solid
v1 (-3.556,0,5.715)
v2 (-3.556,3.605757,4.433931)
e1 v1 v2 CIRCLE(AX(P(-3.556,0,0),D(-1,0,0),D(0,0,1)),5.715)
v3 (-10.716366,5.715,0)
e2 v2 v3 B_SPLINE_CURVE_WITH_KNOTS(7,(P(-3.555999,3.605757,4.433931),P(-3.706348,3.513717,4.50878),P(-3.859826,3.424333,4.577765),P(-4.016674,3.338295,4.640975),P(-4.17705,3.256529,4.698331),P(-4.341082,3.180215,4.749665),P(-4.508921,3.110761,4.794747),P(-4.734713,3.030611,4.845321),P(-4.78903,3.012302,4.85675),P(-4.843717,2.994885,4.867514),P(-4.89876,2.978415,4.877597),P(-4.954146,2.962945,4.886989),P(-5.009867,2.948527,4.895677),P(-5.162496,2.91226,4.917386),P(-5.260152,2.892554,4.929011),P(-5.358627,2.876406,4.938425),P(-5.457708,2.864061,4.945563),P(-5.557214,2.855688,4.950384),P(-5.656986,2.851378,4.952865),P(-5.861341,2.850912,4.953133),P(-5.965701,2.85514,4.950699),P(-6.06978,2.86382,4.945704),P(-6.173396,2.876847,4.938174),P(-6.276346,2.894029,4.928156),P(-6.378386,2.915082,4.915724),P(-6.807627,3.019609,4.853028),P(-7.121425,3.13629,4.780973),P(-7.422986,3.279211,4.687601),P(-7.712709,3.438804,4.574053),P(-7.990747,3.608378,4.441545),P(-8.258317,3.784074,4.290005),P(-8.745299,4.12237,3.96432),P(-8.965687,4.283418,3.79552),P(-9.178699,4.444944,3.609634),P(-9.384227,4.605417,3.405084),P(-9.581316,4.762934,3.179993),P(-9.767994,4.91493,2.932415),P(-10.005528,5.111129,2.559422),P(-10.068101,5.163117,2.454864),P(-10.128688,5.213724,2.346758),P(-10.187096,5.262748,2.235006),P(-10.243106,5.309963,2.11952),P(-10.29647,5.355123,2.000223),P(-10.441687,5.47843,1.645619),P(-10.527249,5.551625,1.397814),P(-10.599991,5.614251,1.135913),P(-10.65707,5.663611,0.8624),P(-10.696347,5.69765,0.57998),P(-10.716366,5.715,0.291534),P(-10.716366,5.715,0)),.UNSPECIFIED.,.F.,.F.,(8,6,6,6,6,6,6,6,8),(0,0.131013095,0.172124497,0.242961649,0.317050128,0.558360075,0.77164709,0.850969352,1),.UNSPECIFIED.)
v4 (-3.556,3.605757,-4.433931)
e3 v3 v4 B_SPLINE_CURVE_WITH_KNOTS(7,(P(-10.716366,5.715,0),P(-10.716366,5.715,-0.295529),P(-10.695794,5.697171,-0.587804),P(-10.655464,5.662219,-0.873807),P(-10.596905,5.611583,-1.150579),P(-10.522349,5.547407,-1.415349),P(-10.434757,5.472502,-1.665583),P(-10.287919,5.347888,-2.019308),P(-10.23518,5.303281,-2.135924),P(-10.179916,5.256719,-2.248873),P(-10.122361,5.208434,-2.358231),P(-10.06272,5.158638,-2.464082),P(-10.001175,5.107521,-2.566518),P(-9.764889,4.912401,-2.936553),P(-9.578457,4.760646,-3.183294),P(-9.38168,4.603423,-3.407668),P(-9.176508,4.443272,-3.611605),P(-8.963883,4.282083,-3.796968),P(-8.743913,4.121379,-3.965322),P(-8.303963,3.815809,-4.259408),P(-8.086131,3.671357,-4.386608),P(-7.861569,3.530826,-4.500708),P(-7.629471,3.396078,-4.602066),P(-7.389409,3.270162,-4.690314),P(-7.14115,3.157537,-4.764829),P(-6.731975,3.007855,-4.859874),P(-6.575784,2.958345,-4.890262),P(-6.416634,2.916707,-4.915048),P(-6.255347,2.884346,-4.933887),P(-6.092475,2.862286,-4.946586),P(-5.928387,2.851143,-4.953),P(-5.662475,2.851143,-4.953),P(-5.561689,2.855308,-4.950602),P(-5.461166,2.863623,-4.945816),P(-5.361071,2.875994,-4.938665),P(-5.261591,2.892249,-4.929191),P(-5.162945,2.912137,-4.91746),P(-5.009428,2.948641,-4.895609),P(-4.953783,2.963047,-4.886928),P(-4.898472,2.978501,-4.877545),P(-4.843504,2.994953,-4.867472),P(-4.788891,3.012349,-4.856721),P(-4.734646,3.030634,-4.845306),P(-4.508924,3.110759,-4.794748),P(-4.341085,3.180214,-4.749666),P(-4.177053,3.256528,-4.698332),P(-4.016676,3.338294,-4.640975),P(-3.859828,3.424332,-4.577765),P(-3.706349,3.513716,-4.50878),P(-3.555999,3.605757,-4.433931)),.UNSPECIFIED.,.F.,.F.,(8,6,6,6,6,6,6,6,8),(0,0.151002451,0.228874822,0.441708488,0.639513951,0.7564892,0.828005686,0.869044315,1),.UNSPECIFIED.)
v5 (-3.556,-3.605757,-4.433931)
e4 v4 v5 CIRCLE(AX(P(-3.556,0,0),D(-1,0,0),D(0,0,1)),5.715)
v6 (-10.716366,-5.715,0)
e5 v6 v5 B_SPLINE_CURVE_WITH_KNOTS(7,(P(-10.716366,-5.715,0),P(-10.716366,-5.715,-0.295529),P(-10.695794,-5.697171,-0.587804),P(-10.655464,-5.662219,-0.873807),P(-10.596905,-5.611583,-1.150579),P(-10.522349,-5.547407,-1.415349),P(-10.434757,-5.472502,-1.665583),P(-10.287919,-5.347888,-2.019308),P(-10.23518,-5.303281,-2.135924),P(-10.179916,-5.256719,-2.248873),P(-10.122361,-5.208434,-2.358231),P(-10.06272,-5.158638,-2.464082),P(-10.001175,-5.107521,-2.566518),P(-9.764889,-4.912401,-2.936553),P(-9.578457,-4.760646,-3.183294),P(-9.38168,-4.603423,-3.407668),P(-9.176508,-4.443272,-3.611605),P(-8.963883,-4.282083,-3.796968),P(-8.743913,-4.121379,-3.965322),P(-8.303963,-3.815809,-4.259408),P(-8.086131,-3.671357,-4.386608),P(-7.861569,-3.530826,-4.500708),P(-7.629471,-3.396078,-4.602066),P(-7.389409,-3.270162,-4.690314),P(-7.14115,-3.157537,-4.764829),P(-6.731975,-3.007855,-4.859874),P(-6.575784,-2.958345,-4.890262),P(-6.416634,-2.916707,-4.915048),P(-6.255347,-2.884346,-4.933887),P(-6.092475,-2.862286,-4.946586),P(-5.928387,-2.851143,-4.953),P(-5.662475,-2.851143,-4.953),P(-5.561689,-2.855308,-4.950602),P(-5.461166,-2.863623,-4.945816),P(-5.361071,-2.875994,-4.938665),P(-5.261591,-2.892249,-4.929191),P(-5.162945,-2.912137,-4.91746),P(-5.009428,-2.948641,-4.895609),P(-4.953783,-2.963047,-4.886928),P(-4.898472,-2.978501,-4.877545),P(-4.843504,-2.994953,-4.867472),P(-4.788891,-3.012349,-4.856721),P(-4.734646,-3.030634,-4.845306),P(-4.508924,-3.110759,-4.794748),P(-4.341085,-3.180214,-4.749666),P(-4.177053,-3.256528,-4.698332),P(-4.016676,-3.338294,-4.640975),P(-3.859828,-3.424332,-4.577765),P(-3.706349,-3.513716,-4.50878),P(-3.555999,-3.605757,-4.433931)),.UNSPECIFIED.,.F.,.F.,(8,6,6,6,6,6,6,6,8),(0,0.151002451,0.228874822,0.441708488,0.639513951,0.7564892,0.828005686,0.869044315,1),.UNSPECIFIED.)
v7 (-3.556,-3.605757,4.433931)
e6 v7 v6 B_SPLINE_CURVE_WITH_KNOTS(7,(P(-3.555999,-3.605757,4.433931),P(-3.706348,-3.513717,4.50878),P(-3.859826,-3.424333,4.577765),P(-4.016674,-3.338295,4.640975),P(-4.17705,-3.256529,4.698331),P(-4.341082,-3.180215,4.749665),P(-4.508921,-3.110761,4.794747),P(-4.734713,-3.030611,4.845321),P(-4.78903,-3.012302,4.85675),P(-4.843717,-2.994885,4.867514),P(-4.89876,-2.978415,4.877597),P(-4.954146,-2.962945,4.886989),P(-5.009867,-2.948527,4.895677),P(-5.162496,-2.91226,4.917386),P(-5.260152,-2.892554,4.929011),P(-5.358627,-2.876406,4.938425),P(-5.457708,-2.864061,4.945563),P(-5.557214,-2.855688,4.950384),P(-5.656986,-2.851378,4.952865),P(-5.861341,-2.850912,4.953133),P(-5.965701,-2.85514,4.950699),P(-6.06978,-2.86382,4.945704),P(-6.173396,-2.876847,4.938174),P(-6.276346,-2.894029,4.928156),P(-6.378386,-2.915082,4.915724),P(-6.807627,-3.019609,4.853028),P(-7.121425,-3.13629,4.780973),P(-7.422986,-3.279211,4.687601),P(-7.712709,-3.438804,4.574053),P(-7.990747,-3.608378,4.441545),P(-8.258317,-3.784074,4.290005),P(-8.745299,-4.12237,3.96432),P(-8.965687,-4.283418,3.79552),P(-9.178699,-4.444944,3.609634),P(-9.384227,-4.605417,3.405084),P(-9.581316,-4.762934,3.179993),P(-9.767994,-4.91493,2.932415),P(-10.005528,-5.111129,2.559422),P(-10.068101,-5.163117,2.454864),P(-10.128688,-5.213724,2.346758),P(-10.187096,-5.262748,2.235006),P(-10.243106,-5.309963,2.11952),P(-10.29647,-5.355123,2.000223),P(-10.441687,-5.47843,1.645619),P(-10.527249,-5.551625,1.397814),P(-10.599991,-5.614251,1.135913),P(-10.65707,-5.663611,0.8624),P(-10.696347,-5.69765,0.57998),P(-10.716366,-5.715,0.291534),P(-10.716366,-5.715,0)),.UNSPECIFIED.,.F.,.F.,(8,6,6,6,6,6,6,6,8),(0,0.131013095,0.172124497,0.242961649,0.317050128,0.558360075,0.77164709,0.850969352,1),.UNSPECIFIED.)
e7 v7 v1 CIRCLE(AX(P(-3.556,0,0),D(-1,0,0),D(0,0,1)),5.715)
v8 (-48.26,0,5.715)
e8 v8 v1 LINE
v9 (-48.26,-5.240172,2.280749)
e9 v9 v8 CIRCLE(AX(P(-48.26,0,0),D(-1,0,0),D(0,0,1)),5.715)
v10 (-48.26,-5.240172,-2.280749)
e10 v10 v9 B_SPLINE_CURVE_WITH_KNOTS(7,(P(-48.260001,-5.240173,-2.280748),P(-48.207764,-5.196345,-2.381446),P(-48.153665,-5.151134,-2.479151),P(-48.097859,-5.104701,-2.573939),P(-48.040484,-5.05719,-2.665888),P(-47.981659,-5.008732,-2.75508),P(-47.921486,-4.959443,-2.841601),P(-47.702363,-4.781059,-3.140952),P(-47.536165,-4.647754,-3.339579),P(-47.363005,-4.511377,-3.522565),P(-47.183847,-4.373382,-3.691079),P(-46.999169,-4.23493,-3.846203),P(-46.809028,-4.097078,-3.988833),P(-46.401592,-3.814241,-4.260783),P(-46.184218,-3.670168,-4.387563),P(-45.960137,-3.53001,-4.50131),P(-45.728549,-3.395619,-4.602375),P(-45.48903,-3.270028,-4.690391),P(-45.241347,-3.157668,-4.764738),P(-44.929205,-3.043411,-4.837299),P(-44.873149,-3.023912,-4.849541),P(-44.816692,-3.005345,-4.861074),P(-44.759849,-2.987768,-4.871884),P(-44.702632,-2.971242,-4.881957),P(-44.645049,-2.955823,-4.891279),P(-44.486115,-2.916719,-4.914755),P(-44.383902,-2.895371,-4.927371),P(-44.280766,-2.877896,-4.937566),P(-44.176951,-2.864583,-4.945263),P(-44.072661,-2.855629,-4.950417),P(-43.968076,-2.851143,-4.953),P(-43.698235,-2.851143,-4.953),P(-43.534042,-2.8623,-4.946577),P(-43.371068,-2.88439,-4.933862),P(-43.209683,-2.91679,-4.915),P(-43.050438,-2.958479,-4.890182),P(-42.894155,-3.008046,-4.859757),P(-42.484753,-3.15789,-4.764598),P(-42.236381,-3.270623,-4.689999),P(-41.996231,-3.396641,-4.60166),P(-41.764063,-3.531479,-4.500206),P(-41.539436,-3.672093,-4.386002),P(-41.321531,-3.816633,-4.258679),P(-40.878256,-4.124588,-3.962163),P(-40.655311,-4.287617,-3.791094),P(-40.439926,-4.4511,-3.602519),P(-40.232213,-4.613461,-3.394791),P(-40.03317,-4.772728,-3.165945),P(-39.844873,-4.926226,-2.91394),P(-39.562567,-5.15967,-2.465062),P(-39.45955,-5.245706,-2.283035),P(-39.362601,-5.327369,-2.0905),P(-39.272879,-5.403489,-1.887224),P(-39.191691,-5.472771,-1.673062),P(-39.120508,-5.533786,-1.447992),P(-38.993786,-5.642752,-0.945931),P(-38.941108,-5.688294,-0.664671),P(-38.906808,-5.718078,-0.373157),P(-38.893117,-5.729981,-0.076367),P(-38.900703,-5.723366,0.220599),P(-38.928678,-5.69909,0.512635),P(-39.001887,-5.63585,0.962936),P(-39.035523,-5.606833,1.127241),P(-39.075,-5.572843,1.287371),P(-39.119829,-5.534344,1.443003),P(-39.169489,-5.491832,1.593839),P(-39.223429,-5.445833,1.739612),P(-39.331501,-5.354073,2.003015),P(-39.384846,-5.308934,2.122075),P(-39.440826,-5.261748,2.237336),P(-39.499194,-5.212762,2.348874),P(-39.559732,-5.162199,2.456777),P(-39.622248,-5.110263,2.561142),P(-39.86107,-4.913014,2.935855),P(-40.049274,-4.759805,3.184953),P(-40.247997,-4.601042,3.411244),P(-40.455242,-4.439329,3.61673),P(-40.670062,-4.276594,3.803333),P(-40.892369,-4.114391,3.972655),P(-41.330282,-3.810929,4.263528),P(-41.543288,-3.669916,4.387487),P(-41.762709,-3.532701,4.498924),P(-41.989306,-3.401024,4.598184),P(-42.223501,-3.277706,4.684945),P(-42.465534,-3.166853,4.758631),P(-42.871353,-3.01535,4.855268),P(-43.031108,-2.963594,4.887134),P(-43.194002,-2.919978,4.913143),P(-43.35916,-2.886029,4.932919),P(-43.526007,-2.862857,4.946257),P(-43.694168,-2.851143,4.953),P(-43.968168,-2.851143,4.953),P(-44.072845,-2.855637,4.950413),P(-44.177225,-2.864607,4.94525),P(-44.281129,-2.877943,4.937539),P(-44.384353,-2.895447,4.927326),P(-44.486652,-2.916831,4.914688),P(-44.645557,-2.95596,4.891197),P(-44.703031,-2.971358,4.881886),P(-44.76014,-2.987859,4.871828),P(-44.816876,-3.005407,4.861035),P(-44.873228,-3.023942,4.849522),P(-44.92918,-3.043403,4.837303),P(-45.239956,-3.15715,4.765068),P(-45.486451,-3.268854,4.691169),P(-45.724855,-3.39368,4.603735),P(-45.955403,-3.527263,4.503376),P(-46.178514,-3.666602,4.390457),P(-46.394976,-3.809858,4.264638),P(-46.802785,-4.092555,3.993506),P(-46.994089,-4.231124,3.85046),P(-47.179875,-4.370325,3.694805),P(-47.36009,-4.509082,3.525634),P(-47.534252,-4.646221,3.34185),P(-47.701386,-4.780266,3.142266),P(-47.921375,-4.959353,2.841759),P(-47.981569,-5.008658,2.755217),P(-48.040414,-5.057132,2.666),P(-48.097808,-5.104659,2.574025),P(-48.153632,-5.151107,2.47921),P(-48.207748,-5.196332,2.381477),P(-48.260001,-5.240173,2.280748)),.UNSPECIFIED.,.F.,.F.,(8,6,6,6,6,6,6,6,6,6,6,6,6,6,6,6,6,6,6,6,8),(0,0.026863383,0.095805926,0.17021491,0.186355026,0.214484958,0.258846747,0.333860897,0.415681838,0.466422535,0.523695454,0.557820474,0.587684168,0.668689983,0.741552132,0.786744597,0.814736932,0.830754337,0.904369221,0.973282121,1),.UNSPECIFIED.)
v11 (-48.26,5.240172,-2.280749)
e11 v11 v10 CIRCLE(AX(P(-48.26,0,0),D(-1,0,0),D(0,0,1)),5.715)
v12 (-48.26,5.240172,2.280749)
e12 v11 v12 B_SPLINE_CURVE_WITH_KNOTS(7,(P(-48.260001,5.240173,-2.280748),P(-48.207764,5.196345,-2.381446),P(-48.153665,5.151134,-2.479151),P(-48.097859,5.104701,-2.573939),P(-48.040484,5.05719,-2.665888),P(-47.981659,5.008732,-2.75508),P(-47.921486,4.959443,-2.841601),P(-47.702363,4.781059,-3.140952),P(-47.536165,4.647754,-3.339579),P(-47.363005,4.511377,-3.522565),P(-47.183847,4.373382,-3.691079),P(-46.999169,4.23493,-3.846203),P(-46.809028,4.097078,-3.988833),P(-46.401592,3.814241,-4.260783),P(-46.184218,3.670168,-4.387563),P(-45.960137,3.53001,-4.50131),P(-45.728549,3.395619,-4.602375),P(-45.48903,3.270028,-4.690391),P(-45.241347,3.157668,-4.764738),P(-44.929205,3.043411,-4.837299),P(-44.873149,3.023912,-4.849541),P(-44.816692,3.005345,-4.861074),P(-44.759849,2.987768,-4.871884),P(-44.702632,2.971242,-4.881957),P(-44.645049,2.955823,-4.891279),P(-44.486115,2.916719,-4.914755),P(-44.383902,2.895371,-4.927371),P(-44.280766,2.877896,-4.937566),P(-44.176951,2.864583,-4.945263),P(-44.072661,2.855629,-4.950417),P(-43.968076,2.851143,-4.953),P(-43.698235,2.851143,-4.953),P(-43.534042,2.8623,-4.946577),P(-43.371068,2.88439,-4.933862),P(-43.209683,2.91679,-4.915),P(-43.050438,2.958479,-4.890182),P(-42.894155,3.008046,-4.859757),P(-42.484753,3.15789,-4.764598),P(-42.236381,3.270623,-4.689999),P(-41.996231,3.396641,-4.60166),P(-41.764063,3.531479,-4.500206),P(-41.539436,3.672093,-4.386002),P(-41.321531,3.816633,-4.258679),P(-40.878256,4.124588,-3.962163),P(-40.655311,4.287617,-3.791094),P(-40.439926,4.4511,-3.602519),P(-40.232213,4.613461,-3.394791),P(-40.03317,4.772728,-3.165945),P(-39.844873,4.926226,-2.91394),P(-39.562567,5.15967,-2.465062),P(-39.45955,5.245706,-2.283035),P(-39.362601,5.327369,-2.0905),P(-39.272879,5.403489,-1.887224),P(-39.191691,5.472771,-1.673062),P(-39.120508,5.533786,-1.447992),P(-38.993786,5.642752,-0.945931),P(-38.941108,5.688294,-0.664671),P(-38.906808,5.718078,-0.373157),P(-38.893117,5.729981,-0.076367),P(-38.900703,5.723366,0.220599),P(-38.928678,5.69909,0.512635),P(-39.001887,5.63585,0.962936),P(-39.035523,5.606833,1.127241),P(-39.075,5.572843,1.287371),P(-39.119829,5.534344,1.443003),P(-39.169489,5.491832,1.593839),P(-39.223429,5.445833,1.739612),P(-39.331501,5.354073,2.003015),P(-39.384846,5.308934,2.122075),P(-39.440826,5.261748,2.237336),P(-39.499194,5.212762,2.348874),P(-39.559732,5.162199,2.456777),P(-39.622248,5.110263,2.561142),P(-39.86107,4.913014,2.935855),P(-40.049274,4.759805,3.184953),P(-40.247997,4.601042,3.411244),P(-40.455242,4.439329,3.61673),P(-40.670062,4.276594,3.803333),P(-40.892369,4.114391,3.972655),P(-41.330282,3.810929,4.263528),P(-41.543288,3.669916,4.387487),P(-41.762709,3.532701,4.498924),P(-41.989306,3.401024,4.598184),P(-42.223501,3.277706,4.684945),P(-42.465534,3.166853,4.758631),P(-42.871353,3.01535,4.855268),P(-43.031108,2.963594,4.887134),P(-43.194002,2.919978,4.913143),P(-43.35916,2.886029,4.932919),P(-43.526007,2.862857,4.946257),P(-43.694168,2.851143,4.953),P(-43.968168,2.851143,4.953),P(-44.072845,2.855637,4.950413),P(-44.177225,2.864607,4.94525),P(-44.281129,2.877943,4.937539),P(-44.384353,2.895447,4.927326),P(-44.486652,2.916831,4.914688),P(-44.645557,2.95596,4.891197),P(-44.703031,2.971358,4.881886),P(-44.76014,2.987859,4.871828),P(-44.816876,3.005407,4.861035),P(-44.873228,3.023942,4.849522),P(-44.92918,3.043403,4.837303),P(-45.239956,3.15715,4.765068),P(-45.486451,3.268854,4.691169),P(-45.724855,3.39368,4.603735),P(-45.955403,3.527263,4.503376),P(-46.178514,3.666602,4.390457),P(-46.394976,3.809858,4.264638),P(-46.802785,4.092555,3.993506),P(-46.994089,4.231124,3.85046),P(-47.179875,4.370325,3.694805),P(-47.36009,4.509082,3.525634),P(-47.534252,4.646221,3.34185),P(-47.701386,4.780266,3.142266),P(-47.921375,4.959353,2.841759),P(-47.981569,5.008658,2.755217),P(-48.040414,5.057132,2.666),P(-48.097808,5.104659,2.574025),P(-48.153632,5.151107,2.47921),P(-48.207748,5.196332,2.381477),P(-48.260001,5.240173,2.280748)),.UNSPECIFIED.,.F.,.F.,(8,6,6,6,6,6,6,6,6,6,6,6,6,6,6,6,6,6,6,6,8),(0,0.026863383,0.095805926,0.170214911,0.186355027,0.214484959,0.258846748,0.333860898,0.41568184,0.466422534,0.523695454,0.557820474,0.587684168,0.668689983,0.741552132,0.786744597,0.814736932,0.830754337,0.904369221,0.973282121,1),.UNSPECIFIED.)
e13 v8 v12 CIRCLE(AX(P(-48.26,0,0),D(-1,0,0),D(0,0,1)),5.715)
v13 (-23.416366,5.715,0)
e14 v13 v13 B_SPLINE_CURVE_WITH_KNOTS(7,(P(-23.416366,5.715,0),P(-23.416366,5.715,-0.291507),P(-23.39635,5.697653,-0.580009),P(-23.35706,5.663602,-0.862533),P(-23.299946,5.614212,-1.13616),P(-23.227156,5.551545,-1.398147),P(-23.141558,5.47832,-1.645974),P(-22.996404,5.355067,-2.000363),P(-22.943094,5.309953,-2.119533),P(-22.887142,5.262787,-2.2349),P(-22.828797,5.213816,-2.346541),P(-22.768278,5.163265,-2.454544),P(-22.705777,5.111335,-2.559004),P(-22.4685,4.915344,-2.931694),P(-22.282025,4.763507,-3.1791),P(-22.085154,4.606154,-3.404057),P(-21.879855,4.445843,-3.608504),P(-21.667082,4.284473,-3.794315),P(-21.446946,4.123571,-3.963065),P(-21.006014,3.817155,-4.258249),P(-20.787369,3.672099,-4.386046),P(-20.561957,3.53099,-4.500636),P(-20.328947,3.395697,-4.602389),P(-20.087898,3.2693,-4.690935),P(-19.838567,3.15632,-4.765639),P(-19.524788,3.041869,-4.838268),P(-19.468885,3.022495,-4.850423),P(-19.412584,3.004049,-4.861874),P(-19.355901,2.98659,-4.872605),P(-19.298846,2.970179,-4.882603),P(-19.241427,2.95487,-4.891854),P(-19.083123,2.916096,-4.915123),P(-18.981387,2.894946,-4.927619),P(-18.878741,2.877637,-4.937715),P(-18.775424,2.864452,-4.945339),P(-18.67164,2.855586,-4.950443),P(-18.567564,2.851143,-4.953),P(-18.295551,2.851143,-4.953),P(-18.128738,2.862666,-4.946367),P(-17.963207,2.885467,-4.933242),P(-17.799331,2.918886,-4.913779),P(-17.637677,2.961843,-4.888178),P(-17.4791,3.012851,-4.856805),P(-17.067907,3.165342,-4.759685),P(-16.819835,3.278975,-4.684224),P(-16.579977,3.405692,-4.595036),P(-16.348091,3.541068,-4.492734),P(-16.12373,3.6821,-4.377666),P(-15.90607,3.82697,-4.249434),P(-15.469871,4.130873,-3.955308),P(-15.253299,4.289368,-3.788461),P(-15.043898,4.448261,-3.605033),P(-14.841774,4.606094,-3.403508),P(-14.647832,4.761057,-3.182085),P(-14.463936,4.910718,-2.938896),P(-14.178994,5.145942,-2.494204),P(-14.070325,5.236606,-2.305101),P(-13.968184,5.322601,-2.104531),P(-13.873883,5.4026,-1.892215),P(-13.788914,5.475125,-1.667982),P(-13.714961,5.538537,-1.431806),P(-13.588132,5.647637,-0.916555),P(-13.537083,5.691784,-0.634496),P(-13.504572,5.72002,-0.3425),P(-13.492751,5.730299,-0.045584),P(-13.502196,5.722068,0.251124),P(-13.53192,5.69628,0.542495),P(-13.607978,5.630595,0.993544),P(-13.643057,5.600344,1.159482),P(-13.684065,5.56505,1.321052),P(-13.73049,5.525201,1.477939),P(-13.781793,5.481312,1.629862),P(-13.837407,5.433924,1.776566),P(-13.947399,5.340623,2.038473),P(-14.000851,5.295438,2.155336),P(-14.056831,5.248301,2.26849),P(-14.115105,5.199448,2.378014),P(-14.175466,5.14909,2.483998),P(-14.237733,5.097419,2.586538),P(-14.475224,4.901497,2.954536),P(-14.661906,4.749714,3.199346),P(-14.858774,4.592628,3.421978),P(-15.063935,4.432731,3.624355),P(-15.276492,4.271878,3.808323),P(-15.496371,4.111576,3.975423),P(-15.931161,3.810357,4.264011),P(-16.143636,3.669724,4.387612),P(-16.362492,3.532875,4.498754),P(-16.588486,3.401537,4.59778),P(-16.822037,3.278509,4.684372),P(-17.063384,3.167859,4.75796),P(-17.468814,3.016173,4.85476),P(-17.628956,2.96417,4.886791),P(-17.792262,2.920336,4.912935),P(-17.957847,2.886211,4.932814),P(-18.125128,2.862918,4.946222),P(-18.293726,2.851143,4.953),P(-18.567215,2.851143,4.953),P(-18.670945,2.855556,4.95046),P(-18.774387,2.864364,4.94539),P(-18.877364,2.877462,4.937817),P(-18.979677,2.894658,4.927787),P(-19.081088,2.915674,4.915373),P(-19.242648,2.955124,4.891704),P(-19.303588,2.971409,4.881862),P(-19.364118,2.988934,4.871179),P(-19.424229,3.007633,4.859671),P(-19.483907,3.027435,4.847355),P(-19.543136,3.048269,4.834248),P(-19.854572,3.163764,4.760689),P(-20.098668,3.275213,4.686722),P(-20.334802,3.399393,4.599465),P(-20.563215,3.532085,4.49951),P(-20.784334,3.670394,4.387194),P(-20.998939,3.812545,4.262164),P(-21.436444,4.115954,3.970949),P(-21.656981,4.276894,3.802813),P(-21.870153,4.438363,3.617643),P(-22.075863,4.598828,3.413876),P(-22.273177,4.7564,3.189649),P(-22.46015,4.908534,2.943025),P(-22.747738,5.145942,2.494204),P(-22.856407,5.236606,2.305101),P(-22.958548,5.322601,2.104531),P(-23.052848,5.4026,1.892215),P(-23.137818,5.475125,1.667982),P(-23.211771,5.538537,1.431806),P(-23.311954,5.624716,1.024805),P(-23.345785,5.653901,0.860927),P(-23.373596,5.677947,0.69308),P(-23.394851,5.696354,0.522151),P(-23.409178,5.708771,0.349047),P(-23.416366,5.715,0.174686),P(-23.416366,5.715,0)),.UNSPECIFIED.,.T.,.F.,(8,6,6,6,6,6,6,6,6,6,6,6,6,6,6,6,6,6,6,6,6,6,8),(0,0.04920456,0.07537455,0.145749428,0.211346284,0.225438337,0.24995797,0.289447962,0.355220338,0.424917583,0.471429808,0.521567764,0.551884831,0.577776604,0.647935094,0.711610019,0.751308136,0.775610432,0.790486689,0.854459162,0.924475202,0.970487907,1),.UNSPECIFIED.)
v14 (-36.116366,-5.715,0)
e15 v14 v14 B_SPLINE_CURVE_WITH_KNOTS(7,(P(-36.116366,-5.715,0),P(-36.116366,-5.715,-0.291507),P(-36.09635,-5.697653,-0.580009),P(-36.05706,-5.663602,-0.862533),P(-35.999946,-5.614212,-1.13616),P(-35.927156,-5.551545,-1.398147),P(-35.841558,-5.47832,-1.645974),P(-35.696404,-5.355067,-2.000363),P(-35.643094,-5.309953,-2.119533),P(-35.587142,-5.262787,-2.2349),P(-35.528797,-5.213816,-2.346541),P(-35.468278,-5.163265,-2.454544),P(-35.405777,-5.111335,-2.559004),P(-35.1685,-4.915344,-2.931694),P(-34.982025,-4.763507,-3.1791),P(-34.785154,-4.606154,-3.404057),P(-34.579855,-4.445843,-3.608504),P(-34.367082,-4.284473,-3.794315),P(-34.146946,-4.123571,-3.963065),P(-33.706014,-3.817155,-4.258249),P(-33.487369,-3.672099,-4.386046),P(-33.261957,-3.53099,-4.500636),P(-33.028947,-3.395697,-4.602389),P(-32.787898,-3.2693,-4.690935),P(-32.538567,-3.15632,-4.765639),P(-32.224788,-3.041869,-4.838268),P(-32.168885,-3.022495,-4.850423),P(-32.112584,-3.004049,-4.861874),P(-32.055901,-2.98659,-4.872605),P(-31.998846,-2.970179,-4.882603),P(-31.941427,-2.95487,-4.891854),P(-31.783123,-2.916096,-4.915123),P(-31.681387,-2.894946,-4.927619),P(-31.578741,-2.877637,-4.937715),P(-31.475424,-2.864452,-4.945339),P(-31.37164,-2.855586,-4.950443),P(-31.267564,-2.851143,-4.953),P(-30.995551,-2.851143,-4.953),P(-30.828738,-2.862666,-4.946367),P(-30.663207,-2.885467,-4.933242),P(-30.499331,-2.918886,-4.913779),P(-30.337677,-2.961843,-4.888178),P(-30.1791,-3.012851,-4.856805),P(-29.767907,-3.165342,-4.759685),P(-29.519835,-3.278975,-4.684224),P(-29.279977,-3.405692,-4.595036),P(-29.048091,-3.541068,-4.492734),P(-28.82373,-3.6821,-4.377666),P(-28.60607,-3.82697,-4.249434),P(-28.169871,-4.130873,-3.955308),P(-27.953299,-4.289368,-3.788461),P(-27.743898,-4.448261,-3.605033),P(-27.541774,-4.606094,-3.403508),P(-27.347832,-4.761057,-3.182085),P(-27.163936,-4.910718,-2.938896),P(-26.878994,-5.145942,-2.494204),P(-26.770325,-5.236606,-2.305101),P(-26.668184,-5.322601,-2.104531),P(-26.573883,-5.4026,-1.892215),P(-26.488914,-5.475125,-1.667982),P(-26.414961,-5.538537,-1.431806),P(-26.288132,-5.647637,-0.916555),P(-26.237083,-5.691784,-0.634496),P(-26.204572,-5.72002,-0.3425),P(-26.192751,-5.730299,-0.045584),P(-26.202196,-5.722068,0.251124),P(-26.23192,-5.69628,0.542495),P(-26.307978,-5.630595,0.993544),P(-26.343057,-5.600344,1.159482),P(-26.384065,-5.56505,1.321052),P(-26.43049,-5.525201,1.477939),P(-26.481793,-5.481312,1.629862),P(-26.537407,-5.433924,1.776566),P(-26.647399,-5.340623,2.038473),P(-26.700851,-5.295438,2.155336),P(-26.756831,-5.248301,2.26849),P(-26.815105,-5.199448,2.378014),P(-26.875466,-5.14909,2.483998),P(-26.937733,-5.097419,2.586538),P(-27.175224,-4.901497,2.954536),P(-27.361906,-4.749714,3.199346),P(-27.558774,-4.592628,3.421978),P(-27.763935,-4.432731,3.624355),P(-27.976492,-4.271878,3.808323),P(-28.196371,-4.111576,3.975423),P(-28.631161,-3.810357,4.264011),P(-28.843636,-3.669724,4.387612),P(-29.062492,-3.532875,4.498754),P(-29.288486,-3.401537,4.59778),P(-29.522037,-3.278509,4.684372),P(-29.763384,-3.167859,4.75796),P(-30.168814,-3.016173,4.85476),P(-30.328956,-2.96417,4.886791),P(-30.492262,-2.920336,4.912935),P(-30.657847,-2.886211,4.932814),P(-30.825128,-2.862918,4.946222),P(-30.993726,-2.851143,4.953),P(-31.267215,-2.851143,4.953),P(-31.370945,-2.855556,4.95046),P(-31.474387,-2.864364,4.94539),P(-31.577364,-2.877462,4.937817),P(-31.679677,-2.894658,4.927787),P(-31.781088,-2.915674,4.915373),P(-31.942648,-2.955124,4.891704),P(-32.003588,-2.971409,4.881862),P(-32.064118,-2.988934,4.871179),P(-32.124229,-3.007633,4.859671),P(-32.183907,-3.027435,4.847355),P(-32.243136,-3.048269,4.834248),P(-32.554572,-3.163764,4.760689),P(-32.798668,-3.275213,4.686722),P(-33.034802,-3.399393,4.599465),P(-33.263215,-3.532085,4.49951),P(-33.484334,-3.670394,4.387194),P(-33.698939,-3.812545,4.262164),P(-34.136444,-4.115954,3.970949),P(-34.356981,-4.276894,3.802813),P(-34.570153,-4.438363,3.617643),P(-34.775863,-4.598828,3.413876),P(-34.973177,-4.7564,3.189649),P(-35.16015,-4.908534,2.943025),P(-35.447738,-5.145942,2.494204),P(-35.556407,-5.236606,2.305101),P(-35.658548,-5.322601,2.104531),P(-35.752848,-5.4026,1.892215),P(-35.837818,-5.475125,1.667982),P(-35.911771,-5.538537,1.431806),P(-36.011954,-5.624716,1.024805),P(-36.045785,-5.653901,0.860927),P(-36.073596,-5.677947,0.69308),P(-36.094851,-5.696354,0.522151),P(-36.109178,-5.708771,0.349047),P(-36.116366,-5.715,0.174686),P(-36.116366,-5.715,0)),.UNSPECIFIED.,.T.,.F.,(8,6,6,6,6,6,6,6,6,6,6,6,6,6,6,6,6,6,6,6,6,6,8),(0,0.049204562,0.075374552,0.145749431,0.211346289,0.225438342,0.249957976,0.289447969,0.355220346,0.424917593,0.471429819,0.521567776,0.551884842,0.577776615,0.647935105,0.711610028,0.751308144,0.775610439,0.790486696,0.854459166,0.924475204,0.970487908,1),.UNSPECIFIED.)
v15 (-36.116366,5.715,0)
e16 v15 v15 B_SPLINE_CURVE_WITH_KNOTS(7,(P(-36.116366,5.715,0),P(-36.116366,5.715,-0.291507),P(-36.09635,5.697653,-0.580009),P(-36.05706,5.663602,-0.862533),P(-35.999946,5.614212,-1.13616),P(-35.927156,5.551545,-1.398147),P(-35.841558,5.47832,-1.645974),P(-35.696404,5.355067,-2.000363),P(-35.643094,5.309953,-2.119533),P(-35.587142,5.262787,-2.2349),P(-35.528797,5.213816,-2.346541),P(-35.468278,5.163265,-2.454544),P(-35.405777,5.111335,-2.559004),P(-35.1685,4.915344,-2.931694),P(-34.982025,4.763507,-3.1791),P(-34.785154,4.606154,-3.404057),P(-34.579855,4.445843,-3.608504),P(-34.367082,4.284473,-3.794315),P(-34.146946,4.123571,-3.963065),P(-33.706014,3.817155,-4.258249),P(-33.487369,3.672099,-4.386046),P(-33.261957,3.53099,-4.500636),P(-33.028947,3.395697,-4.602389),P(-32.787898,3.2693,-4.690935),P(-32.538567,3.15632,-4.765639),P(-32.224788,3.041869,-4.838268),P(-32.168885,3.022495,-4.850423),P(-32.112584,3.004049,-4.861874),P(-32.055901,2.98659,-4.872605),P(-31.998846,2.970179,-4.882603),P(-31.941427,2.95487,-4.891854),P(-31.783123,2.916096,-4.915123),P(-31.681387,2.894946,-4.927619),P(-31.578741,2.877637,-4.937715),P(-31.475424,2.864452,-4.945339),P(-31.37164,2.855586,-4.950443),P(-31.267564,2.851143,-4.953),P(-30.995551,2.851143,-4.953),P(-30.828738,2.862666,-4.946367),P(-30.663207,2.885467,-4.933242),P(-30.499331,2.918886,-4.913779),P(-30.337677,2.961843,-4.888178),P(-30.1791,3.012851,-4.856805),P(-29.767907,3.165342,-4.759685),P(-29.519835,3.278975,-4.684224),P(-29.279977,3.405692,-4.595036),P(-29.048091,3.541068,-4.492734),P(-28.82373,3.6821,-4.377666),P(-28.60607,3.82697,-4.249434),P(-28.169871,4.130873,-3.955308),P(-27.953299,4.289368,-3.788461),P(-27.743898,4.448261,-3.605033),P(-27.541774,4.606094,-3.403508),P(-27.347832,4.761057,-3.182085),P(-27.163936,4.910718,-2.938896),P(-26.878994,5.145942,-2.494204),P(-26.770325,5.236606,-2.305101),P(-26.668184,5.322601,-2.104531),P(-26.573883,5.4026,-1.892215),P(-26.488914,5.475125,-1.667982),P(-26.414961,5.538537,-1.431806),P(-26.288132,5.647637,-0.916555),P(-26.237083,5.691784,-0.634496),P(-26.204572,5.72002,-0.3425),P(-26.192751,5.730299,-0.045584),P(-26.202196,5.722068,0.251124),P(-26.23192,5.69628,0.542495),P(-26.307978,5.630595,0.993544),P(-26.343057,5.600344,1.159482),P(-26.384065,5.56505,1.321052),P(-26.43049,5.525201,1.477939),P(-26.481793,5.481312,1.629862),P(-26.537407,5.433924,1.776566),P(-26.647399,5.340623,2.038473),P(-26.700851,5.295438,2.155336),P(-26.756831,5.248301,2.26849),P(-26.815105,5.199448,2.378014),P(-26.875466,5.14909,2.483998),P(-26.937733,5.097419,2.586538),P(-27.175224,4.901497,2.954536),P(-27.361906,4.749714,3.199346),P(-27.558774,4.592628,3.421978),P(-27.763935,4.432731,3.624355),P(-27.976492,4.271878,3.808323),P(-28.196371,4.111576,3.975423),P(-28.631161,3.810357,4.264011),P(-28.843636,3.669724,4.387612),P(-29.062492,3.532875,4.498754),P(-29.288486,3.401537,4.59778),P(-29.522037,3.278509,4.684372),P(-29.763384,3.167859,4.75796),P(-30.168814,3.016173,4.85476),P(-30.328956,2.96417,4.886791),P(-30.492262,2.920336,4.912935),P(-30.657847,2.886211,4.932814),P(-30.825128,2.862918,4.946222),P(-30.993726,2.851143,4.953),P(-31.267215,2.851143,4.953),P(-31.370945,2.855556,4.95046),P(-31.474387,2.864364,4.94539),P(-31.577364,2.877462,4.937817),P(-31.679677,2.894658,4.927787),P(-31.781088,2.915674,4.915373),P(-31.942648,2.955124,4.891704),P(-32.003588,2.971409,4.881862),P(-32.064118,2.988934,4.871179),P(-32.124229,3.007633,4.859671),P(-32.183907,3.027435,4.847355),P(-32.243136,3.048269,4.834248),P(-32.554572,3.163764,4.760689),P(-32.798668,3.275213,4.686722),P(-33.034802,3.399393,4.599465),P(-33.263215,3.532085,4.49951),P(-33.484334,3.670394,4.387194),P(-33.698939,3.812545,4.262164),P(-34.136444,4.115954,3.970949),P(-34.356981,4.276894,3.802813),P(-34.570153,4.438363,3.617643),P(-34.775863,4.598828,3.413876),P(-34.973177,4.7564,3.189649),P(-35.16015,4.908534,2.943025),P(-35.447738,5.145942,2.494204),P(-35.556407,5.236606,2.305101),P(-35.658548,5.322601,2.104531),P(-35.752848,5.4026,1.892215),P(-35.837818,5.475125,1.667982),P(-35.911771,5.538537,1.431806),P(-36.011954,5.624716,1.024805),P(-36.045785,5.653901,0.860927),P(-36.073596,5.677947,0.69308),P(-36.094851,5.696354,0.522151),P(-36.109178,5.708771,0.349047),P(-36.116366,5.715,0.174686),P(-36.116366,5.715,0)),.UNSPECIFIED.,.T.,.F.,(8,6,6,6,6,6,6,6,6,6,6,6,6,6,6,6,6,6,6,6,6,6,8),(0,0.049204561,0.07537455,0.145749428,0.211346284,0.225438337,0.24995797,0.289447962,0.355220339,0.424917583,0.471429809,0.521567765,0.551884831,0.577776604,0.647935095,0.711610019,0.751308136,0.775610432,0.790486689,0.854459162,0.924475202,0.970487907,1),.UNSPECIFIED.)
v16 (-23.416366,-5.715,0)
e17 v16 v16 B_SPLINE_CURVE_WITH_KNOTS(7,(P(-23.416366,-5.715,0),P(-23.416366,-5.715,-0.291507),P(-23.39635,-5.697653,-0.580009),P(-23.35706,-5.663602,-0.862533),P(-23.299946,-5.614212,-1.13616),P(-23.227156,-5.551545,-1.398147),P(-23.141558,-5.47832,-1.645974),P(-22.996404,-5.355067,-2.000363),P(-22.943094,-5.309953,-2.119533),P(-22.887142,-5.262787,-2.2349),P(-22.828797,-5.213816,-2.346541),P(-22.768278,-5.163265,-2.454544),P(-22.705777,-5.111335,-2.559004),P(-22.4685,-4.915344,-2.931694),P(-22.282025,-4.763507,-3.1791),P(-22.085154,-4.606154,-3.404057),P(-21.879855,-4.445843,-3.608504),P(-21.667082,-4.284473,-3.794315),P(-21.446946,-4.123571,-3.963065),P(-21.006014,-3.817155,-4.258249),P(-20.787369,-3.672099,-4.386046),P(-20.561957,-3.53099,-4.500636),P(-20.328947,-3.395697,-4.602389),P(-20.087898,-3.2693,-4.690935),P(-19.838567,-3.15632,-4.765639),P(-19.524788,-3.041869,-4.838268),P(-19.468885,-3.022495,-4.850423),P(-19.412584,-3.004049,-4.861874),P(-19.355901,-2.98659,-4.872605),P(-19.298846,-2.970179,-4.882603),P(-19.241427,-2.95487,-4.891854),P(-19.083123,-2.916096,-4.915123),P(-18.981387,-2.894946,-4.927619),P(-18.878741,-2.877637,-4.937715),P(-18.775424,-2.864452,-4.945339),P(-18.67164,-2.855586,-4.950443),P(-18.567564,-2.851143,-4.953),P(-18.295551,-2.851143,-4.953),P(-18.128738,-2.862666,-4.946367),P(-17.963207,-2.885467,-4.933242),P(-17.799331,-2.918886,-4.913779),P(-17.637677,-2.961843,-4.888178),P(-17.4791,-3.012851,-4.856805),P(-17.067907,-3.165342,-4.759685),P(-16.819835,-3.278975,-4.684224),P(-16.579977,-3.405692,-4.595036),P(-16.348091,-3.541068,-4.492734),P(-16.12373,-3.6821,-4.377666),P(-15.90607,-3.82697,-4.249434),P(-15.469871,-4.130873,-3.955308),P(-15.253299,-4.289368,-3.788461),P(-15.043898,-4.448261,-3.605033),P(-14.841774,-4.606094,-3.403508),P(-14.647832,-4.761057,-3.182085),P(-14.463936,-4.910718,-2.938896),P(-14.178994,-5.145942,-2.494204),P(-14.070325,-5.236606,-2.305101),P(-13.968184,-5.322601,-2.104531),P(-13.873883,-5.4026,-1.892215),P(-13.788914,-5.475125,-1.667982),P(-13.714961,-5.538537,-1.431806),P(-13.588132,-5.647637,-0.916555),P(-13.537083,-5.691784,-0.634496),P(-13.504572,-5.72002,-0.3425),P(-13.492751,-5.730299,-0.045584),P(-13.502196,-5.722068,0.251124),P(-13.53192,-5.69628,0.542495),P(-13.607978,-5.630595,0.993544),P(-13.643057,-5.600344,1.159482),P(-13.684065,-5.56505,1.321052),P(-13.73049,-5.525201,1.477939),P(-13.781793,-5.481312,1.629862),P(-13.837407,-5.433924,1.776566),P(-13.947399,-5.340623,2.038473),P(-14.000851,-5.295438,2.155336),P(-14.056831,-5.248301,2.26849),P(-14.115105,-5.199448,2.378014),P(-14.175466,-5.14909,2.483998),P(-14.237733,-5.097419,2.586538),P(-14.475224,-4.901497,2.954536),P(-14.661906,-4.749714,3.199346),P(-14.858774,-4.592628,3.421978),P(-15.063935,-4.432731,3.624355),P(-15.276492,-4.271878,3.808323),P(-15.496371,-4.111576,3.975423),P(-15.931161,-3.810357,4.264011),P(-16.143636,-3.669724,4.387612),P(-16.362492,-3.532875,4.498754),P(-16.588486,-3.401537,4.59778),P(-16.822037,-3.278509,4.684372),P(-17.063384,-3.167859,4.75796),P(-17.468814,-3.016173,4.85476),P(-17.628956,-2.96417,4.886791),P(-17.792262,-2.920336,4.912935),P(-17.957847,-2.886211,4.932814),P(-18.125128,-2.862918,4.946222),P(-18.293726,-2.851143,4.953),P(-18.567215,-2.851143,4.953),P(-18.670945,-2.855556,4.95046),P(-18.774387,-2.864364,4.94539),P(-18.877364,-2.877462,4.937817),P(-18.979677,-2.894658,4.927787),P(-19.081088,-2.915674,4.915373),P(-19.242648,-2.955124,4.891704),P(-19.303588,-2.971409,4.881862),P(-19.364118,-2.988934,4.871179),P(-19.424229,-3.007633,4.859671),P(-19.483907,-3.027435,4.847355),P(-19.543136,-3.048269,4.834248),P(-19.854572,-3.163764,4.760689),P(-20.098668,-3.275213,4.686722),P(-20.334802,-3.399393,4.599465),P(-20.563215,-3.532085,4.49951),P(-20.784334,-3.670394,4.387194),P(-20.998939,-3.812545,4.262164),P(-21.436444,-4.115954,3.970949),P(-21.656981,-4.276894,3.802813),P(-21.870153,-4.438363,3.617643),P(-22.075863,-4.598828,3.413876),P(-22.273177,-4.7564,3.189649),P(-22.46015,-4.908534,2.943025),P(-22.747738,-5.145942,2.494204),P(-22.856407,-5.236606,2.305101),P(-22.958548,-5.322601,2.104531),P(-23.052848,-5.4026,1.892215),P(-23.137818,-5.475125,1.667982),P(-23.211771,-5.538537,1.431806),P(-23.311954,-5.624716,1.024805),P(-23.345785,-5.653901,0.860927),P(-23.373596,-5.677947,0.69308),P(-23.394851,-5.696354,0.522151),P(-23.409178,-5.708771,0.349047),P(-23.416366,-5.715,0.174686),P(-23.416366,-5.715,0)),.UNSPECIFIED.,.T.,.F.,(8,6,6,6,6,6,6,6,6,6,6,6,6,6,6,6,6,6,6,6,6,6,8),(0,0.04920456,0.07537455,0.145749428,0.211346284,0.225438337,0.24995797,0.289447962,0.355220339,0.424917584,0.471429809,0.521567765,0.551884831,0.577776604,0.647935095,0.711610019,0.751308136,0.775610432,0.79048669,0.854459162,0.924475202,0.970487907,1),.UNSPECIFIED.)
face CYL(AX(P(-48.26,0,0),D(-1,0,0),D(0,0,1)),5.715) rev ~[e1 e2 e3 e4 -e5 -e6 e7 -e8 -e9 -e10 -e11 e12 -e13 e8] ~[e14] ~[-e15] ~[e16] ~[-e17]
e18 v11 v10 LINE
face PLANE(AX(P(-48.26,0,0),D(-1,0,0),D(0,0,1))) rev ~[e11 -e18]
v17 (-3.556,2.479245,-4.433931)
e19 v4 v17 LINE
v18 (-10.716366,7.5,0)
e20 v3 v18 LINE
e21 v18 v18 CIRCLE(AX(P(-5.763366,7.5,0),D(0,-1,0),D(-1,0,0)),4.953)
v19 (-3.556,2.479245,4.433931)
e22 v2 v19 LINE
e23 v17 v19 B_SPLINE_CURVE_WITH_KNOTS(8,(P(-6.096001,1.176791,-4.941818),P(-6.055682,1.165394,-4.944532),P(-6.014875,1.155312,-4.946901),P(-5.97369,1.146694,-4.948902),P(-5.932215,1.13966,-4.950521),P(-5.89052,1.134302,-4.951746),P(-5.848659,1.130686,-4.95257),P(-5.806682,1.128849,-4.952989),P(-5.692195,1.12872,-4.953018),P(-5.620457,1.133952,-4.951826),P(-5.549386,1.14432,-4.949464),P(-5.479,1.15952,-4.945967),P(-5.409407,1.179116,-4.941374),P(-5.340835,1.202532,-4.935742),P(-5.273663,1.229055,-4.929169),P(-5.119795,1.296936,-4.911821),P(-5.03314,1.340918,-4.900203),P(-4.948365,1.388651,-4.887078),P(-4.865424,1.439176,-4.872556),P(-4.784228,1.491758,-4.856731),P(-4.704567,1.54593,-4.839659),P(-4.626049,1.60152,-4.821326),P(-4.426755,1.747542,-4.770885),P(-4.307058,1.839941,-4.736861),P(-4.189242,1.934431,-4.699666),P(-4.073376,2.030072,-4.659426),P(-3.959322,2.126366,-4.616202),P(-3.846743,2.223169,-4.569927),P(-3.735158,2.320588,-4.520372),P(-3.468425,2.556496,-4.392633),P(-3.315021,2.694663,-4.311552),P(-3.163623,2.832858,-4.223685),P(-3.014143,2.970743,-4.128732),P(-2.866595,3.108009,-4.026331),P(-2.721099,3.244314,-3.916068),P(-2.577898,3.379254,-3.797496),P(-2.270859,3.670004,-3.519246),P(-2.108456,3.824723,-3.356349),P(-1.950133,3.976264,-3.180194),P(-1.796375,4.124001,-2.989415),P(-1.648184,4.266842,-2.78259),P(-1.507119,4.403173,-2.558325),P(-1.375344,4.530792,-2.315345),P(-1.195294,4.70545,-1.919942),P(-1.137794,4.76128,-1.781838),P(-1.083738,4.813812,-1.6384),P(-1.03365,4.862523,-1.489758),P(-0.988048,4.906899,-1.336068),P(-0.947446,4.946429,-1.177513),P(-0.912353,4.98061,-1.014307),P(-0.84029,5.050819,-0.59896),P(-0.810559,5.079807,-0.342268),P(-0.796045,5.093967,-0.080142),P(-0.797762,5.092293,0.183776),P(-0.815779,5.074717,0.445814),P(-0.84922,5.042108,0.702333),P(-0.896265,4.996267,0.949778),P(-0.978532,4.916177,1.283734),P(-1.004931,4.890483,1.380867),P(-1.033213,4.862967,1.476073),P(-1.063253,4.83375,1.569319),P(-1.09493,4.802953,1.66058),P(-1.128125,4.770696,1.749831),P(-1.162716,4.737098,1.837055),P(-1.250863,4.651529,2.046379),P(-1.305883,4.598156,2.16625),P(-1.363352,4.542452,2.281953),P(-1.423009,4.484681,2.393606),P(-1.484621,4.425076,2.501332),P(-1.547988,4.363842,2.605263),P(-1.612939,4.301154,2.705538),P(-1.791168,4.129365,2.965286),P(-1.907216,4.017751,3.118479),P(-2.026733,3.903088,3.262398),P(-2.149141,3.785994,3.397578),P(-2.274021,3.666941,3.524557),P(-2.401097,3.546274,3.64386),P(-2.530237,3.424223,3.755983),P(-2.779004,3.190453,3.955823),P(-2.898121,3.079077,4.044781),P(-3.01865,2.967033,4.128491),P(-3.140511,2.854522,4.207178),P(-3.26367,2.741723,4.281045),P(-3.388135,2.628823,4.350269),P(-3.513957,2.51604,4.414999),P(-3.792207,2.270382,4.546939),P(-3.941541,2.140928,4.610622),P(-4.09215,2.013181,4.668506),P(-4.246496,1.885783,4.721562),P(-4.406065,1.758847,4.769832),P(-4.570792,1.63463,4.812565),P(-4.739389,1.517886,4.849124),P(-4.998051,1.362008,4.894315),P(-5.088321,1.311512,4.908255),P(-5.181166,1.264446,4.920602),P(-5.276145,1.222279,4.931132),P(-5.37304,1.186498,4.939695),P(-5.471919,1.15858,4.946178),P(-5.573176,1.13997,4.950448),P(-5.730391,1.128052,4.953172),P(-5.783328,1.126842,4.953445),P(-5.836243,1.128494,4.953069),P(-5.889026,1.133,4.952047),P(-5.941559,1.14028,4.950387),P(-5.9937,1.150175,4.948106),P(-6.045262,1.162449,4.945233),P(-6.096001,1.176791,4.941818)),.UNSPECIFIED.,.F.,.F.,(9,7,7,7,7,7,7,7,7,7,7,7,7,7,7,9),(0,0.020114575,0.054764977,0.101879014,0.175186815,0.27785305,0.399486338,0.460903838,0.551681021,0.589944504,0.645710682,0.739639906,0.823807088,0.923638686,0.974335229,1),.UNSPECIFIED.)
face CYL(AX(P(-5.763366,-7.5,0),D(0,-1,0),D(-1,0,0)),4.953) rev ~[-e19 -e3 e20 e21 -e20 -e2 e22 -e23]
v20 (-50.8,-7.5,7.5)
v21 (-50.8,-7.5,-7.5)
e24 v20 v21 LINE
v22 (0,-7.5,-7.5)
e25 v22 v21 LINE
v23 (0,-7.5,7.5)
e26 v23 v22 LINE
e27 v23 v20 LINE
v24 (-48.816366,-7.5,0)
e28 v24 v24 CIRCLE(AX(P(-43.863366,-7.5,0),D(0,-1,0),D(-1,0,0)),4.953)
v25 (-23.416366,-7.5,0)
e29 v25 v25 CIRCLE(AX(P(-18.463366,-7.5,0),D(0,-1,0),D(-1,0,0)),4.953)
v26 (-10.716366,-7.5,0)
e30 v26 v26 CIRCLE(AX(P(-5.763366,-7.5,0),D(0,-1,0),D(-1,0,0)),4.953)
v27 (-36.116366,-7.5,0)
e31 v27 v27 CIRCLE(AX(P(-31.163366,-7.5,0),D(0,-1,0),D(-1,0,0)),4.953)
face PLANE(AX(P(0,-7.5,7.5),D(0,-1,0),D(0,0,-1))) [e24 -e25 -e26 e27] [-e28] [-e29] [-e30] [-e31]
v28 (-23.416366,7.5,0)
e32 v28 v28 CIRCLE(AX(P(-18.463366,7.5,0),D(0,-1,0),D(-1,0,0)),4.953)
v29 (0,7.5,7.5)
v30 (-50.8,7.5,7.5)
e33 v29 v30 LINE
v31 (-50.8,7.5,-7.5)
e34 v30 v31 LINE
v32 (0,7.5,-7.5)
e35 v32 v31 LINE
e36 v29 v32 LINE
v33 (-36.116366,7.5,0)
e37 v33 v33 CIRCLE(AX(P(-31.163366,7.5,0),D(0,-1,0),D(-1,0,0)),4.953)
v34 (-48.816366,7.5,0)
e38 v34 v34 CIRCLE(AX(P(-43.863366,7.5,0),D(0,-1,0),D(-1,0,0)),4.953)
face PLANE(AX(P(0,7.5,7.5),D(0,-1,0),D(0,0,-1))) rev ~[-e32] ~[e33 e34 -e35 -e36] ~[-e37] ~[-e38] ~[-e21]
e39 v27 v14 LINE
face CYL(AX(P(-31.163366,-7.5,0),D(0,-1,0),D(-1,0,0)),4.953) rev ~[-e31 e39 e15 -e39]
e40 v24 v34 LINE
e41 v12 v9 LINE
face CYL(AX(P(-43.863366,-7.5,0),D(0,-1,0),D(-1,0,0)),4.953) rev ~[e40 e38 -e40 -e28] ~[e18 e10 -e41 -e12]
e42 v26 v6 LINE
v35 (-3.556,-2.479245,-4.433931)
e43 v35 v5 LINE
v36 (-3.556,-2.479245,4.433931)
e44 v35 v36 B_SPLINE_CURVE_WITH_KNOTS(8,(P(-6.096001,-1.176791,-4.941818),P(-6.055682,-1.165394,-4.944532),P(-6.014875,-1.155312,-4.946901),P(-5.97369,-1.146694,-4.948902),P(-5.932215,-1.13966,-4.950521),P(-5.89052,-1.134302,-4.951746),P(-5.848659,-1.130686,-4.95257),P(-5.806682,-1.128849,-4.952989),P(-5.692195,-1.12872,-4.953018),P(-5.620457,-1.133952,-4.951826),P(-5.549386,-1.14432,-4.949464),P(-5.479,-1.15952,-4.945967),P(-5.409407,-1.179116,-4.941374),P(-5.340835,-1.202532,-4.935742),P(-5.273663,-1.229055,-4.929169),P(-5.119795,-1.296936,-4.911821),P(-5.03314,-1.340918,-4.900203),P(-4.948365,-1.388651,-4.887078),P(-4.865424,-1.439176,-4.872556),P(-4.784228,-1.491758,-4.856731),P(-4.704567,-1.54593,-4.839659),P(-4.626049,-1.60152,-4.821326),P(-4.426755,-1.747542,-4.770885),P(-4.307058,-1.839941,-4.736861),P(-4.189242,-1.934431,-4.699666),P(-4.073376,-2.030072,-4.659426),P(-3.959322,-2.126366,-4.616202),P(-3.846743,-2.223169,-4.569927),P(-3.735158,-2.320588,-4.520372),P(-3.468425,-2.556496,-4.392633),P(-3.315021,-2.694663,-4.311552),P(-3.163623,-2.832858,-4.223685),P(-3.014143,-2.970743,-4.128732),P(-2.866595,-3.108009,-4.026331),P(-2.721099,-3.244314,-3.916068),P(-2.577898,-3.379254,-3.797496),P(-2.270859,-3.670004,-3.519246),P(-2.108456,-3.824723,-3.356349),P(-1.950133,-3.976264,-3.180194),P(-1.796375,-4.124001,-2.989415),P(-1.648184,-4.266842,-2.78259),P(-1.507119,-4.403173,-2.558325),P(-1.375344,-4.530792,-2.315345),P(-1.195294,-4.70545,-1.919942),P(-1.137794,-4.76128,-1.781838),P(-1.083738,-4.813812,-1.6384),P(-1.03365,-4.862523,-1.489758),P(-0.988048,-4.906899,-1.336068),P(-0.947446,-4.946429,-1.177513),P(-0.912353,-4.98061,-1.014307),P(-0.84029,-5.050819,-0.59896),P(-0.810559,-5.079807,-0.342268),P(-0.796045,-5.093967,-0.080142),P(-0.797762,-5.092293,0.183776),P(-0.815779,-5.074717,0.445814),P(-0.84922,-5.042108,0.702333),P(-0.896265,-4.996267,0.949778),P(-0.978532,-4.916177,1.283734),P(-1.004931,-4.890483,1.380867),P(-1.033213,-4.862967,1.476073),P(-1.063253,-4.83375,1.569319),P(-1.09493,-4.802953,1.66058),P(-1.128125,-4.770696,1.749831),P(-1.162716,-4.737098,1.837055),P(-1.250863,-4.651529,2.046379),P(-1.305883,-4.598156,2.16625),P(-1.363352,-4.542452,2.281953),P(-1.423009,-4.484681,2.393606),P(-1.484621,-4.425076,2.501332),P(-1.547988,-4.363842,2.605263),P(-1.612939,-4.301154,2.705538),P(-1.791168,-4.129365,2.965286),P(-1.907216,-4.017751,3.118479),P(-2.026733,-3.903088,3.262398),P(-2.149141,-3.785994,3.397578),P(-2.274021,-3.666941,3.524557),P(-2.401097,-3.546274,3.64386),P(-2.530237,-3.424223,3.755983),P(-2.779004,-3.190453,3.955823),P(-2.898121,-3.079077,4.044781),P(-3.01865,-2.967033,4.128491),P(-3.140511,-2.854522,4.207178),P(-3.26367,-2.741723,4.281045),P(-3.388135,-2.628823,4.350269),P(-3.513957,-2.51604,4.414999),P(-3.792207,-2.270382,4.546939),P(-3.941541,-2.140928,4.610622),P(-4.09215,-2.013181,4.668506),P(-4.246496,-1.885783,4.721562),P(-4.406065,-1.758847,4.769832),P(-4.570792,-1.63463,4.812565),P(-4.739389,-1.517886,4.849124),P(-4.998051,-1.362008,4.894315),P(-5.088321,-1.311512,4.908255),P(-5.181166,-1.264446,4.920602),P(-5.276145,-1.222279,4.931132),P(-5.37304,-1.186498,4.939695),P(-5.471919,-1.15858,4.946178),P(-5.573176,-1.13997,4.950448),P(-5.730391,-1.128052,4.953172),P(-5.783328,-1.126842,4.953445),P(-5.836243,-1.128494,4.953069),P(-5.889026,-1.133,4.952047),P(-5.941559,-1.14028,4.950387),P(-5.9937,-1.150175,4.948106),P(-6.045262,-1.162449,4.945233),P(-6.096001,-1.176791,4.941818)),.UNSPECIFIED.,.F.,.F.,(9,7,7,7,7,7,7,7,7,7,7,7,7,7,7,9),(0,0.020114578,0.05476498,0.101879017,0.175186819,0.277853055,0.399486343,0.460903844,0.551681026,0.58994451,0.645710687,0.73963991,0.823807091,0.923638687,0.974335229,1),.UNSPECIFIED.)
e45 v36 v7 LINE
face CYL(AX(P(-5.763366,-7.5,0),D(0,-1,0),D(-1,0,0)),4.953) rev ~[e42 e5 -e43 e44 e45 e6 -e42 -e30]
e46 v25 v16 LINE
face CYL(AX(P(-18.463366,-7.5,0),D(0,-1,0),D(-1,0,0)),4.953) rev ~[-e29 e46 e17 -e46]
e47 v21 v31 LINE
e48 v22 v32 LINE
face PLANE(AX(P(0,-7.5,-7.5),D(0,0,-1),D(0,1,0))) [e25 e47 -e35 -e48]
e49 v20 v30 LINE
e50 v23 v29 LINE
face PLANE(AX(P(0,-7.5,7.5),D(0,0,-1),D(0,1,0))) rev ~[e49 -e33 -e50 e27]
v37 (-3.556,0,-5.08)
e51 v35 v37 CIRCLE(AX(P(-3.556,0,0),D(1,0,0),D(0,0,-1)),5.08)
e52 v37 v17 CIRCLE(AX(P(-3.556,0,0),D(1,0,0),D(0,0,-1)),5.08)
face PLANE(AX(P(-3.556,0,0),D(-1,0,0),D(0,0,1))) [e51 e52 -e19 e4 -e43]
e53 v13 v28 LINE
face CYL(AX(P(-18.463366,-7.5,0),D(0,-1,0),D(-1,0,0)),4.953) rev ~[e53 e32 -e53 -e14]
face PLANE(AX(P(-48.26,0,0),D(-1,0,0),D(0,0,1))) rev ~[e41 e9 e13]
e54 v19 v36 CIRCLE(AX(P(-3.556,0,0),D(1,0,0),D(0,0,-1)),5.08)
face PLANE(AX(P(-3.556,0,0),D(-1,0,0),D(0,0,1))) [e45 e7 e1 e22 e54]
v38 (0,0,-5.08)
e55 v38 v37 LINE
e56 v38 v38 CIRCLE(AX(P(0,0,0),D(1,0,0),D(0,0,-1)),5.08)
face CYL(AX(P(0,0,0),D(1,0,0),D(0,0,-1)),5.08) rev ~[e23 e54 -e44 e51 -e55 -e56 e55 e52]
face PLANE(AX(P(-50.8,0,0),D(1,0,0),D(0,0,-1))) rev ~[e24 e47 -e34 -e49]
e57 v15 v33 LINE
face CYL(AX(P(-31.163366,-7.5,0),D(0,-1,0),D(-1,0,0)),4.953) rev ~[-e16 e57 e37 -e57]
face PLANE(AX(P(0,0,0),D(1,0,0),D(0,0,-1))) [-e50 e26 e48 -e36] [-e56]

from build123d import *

# Parameters (mm, degrees)
SKETCH1_W           = 15
SKETCH1_H           = 15
BOSS_EXTRUDE1_DEPTH = 50.8
SKETCH3_R           = 5.715
CUT_EXTRUDE1_DEPTH  = 44.704
SKETCH5_R           = 4.953
CUT_EXTRUDE3_DEPTH  = 16
LPATTERN1_COUNT     = 4
LPATTERN1_PITCH     = 12.7
SKETCH4_R           = 5.08
CUT_EXTRUDE5_DEPTH  = 6.096


with BuildPart() as part:
    # Sketch1 → Boss-Extrude1 (new body)
    with BuildSketch(Plane(origin=(0, 0, 0), x_dir=(0, 0, -1), z_dir=(1, 0, 0))):
        Rectangle(SKETCH1_W, SKETCH1_H)
    extrude(amount=-BOSS_EXTRUDE1_DEPTH)

    # Sketch3 → Cut-Extrude1 (cut)
    with BuildSketch(Plane.ZY.offset(48.26)):
        Circle(SKETCH3_R)
    extrude(amount=-CUT_EXTRUDE1_DEPTH, mode=Mode.SUBTRACT)

    # Sketch5 → Cut-Extrude3 (cut, through all)
    with BuildSketch(Plane(origin=(0, -7.5, 0), x_dir=(-1, 0, 0), z_dir=(0, -1, 0))):
        with Locations((43.863365925, 0)):
            Circle(SKETCH5_R)
    cut_extrude3 = extrude(amount=-CUT_EXTRUDE3_DEPTH, mode=Mode.SUBTRACT)

    # LPattern1: Cut-Extrude3 ×4
    with Locations(*[(i * LPATTERN1_PITCH, 0, 0) for i in range(1, LPATTERN1_COUNT)]):
        add(cut_extrude3, mode=Mode.SUBTRACT)

    # Sketch4 → Cut-Extrude5 (cut)
    with BuildSketch(Plane(origin=(0, 0, 0), x_dir=(0, 0, -1), z_dir=(1, 0, 0))):
        Circle(SKETCH4_R)
    extrude(amount=-CUT_EXTRUDE5_DEPTH, mode=Mode.SUBTRACT)


solid = part.part
